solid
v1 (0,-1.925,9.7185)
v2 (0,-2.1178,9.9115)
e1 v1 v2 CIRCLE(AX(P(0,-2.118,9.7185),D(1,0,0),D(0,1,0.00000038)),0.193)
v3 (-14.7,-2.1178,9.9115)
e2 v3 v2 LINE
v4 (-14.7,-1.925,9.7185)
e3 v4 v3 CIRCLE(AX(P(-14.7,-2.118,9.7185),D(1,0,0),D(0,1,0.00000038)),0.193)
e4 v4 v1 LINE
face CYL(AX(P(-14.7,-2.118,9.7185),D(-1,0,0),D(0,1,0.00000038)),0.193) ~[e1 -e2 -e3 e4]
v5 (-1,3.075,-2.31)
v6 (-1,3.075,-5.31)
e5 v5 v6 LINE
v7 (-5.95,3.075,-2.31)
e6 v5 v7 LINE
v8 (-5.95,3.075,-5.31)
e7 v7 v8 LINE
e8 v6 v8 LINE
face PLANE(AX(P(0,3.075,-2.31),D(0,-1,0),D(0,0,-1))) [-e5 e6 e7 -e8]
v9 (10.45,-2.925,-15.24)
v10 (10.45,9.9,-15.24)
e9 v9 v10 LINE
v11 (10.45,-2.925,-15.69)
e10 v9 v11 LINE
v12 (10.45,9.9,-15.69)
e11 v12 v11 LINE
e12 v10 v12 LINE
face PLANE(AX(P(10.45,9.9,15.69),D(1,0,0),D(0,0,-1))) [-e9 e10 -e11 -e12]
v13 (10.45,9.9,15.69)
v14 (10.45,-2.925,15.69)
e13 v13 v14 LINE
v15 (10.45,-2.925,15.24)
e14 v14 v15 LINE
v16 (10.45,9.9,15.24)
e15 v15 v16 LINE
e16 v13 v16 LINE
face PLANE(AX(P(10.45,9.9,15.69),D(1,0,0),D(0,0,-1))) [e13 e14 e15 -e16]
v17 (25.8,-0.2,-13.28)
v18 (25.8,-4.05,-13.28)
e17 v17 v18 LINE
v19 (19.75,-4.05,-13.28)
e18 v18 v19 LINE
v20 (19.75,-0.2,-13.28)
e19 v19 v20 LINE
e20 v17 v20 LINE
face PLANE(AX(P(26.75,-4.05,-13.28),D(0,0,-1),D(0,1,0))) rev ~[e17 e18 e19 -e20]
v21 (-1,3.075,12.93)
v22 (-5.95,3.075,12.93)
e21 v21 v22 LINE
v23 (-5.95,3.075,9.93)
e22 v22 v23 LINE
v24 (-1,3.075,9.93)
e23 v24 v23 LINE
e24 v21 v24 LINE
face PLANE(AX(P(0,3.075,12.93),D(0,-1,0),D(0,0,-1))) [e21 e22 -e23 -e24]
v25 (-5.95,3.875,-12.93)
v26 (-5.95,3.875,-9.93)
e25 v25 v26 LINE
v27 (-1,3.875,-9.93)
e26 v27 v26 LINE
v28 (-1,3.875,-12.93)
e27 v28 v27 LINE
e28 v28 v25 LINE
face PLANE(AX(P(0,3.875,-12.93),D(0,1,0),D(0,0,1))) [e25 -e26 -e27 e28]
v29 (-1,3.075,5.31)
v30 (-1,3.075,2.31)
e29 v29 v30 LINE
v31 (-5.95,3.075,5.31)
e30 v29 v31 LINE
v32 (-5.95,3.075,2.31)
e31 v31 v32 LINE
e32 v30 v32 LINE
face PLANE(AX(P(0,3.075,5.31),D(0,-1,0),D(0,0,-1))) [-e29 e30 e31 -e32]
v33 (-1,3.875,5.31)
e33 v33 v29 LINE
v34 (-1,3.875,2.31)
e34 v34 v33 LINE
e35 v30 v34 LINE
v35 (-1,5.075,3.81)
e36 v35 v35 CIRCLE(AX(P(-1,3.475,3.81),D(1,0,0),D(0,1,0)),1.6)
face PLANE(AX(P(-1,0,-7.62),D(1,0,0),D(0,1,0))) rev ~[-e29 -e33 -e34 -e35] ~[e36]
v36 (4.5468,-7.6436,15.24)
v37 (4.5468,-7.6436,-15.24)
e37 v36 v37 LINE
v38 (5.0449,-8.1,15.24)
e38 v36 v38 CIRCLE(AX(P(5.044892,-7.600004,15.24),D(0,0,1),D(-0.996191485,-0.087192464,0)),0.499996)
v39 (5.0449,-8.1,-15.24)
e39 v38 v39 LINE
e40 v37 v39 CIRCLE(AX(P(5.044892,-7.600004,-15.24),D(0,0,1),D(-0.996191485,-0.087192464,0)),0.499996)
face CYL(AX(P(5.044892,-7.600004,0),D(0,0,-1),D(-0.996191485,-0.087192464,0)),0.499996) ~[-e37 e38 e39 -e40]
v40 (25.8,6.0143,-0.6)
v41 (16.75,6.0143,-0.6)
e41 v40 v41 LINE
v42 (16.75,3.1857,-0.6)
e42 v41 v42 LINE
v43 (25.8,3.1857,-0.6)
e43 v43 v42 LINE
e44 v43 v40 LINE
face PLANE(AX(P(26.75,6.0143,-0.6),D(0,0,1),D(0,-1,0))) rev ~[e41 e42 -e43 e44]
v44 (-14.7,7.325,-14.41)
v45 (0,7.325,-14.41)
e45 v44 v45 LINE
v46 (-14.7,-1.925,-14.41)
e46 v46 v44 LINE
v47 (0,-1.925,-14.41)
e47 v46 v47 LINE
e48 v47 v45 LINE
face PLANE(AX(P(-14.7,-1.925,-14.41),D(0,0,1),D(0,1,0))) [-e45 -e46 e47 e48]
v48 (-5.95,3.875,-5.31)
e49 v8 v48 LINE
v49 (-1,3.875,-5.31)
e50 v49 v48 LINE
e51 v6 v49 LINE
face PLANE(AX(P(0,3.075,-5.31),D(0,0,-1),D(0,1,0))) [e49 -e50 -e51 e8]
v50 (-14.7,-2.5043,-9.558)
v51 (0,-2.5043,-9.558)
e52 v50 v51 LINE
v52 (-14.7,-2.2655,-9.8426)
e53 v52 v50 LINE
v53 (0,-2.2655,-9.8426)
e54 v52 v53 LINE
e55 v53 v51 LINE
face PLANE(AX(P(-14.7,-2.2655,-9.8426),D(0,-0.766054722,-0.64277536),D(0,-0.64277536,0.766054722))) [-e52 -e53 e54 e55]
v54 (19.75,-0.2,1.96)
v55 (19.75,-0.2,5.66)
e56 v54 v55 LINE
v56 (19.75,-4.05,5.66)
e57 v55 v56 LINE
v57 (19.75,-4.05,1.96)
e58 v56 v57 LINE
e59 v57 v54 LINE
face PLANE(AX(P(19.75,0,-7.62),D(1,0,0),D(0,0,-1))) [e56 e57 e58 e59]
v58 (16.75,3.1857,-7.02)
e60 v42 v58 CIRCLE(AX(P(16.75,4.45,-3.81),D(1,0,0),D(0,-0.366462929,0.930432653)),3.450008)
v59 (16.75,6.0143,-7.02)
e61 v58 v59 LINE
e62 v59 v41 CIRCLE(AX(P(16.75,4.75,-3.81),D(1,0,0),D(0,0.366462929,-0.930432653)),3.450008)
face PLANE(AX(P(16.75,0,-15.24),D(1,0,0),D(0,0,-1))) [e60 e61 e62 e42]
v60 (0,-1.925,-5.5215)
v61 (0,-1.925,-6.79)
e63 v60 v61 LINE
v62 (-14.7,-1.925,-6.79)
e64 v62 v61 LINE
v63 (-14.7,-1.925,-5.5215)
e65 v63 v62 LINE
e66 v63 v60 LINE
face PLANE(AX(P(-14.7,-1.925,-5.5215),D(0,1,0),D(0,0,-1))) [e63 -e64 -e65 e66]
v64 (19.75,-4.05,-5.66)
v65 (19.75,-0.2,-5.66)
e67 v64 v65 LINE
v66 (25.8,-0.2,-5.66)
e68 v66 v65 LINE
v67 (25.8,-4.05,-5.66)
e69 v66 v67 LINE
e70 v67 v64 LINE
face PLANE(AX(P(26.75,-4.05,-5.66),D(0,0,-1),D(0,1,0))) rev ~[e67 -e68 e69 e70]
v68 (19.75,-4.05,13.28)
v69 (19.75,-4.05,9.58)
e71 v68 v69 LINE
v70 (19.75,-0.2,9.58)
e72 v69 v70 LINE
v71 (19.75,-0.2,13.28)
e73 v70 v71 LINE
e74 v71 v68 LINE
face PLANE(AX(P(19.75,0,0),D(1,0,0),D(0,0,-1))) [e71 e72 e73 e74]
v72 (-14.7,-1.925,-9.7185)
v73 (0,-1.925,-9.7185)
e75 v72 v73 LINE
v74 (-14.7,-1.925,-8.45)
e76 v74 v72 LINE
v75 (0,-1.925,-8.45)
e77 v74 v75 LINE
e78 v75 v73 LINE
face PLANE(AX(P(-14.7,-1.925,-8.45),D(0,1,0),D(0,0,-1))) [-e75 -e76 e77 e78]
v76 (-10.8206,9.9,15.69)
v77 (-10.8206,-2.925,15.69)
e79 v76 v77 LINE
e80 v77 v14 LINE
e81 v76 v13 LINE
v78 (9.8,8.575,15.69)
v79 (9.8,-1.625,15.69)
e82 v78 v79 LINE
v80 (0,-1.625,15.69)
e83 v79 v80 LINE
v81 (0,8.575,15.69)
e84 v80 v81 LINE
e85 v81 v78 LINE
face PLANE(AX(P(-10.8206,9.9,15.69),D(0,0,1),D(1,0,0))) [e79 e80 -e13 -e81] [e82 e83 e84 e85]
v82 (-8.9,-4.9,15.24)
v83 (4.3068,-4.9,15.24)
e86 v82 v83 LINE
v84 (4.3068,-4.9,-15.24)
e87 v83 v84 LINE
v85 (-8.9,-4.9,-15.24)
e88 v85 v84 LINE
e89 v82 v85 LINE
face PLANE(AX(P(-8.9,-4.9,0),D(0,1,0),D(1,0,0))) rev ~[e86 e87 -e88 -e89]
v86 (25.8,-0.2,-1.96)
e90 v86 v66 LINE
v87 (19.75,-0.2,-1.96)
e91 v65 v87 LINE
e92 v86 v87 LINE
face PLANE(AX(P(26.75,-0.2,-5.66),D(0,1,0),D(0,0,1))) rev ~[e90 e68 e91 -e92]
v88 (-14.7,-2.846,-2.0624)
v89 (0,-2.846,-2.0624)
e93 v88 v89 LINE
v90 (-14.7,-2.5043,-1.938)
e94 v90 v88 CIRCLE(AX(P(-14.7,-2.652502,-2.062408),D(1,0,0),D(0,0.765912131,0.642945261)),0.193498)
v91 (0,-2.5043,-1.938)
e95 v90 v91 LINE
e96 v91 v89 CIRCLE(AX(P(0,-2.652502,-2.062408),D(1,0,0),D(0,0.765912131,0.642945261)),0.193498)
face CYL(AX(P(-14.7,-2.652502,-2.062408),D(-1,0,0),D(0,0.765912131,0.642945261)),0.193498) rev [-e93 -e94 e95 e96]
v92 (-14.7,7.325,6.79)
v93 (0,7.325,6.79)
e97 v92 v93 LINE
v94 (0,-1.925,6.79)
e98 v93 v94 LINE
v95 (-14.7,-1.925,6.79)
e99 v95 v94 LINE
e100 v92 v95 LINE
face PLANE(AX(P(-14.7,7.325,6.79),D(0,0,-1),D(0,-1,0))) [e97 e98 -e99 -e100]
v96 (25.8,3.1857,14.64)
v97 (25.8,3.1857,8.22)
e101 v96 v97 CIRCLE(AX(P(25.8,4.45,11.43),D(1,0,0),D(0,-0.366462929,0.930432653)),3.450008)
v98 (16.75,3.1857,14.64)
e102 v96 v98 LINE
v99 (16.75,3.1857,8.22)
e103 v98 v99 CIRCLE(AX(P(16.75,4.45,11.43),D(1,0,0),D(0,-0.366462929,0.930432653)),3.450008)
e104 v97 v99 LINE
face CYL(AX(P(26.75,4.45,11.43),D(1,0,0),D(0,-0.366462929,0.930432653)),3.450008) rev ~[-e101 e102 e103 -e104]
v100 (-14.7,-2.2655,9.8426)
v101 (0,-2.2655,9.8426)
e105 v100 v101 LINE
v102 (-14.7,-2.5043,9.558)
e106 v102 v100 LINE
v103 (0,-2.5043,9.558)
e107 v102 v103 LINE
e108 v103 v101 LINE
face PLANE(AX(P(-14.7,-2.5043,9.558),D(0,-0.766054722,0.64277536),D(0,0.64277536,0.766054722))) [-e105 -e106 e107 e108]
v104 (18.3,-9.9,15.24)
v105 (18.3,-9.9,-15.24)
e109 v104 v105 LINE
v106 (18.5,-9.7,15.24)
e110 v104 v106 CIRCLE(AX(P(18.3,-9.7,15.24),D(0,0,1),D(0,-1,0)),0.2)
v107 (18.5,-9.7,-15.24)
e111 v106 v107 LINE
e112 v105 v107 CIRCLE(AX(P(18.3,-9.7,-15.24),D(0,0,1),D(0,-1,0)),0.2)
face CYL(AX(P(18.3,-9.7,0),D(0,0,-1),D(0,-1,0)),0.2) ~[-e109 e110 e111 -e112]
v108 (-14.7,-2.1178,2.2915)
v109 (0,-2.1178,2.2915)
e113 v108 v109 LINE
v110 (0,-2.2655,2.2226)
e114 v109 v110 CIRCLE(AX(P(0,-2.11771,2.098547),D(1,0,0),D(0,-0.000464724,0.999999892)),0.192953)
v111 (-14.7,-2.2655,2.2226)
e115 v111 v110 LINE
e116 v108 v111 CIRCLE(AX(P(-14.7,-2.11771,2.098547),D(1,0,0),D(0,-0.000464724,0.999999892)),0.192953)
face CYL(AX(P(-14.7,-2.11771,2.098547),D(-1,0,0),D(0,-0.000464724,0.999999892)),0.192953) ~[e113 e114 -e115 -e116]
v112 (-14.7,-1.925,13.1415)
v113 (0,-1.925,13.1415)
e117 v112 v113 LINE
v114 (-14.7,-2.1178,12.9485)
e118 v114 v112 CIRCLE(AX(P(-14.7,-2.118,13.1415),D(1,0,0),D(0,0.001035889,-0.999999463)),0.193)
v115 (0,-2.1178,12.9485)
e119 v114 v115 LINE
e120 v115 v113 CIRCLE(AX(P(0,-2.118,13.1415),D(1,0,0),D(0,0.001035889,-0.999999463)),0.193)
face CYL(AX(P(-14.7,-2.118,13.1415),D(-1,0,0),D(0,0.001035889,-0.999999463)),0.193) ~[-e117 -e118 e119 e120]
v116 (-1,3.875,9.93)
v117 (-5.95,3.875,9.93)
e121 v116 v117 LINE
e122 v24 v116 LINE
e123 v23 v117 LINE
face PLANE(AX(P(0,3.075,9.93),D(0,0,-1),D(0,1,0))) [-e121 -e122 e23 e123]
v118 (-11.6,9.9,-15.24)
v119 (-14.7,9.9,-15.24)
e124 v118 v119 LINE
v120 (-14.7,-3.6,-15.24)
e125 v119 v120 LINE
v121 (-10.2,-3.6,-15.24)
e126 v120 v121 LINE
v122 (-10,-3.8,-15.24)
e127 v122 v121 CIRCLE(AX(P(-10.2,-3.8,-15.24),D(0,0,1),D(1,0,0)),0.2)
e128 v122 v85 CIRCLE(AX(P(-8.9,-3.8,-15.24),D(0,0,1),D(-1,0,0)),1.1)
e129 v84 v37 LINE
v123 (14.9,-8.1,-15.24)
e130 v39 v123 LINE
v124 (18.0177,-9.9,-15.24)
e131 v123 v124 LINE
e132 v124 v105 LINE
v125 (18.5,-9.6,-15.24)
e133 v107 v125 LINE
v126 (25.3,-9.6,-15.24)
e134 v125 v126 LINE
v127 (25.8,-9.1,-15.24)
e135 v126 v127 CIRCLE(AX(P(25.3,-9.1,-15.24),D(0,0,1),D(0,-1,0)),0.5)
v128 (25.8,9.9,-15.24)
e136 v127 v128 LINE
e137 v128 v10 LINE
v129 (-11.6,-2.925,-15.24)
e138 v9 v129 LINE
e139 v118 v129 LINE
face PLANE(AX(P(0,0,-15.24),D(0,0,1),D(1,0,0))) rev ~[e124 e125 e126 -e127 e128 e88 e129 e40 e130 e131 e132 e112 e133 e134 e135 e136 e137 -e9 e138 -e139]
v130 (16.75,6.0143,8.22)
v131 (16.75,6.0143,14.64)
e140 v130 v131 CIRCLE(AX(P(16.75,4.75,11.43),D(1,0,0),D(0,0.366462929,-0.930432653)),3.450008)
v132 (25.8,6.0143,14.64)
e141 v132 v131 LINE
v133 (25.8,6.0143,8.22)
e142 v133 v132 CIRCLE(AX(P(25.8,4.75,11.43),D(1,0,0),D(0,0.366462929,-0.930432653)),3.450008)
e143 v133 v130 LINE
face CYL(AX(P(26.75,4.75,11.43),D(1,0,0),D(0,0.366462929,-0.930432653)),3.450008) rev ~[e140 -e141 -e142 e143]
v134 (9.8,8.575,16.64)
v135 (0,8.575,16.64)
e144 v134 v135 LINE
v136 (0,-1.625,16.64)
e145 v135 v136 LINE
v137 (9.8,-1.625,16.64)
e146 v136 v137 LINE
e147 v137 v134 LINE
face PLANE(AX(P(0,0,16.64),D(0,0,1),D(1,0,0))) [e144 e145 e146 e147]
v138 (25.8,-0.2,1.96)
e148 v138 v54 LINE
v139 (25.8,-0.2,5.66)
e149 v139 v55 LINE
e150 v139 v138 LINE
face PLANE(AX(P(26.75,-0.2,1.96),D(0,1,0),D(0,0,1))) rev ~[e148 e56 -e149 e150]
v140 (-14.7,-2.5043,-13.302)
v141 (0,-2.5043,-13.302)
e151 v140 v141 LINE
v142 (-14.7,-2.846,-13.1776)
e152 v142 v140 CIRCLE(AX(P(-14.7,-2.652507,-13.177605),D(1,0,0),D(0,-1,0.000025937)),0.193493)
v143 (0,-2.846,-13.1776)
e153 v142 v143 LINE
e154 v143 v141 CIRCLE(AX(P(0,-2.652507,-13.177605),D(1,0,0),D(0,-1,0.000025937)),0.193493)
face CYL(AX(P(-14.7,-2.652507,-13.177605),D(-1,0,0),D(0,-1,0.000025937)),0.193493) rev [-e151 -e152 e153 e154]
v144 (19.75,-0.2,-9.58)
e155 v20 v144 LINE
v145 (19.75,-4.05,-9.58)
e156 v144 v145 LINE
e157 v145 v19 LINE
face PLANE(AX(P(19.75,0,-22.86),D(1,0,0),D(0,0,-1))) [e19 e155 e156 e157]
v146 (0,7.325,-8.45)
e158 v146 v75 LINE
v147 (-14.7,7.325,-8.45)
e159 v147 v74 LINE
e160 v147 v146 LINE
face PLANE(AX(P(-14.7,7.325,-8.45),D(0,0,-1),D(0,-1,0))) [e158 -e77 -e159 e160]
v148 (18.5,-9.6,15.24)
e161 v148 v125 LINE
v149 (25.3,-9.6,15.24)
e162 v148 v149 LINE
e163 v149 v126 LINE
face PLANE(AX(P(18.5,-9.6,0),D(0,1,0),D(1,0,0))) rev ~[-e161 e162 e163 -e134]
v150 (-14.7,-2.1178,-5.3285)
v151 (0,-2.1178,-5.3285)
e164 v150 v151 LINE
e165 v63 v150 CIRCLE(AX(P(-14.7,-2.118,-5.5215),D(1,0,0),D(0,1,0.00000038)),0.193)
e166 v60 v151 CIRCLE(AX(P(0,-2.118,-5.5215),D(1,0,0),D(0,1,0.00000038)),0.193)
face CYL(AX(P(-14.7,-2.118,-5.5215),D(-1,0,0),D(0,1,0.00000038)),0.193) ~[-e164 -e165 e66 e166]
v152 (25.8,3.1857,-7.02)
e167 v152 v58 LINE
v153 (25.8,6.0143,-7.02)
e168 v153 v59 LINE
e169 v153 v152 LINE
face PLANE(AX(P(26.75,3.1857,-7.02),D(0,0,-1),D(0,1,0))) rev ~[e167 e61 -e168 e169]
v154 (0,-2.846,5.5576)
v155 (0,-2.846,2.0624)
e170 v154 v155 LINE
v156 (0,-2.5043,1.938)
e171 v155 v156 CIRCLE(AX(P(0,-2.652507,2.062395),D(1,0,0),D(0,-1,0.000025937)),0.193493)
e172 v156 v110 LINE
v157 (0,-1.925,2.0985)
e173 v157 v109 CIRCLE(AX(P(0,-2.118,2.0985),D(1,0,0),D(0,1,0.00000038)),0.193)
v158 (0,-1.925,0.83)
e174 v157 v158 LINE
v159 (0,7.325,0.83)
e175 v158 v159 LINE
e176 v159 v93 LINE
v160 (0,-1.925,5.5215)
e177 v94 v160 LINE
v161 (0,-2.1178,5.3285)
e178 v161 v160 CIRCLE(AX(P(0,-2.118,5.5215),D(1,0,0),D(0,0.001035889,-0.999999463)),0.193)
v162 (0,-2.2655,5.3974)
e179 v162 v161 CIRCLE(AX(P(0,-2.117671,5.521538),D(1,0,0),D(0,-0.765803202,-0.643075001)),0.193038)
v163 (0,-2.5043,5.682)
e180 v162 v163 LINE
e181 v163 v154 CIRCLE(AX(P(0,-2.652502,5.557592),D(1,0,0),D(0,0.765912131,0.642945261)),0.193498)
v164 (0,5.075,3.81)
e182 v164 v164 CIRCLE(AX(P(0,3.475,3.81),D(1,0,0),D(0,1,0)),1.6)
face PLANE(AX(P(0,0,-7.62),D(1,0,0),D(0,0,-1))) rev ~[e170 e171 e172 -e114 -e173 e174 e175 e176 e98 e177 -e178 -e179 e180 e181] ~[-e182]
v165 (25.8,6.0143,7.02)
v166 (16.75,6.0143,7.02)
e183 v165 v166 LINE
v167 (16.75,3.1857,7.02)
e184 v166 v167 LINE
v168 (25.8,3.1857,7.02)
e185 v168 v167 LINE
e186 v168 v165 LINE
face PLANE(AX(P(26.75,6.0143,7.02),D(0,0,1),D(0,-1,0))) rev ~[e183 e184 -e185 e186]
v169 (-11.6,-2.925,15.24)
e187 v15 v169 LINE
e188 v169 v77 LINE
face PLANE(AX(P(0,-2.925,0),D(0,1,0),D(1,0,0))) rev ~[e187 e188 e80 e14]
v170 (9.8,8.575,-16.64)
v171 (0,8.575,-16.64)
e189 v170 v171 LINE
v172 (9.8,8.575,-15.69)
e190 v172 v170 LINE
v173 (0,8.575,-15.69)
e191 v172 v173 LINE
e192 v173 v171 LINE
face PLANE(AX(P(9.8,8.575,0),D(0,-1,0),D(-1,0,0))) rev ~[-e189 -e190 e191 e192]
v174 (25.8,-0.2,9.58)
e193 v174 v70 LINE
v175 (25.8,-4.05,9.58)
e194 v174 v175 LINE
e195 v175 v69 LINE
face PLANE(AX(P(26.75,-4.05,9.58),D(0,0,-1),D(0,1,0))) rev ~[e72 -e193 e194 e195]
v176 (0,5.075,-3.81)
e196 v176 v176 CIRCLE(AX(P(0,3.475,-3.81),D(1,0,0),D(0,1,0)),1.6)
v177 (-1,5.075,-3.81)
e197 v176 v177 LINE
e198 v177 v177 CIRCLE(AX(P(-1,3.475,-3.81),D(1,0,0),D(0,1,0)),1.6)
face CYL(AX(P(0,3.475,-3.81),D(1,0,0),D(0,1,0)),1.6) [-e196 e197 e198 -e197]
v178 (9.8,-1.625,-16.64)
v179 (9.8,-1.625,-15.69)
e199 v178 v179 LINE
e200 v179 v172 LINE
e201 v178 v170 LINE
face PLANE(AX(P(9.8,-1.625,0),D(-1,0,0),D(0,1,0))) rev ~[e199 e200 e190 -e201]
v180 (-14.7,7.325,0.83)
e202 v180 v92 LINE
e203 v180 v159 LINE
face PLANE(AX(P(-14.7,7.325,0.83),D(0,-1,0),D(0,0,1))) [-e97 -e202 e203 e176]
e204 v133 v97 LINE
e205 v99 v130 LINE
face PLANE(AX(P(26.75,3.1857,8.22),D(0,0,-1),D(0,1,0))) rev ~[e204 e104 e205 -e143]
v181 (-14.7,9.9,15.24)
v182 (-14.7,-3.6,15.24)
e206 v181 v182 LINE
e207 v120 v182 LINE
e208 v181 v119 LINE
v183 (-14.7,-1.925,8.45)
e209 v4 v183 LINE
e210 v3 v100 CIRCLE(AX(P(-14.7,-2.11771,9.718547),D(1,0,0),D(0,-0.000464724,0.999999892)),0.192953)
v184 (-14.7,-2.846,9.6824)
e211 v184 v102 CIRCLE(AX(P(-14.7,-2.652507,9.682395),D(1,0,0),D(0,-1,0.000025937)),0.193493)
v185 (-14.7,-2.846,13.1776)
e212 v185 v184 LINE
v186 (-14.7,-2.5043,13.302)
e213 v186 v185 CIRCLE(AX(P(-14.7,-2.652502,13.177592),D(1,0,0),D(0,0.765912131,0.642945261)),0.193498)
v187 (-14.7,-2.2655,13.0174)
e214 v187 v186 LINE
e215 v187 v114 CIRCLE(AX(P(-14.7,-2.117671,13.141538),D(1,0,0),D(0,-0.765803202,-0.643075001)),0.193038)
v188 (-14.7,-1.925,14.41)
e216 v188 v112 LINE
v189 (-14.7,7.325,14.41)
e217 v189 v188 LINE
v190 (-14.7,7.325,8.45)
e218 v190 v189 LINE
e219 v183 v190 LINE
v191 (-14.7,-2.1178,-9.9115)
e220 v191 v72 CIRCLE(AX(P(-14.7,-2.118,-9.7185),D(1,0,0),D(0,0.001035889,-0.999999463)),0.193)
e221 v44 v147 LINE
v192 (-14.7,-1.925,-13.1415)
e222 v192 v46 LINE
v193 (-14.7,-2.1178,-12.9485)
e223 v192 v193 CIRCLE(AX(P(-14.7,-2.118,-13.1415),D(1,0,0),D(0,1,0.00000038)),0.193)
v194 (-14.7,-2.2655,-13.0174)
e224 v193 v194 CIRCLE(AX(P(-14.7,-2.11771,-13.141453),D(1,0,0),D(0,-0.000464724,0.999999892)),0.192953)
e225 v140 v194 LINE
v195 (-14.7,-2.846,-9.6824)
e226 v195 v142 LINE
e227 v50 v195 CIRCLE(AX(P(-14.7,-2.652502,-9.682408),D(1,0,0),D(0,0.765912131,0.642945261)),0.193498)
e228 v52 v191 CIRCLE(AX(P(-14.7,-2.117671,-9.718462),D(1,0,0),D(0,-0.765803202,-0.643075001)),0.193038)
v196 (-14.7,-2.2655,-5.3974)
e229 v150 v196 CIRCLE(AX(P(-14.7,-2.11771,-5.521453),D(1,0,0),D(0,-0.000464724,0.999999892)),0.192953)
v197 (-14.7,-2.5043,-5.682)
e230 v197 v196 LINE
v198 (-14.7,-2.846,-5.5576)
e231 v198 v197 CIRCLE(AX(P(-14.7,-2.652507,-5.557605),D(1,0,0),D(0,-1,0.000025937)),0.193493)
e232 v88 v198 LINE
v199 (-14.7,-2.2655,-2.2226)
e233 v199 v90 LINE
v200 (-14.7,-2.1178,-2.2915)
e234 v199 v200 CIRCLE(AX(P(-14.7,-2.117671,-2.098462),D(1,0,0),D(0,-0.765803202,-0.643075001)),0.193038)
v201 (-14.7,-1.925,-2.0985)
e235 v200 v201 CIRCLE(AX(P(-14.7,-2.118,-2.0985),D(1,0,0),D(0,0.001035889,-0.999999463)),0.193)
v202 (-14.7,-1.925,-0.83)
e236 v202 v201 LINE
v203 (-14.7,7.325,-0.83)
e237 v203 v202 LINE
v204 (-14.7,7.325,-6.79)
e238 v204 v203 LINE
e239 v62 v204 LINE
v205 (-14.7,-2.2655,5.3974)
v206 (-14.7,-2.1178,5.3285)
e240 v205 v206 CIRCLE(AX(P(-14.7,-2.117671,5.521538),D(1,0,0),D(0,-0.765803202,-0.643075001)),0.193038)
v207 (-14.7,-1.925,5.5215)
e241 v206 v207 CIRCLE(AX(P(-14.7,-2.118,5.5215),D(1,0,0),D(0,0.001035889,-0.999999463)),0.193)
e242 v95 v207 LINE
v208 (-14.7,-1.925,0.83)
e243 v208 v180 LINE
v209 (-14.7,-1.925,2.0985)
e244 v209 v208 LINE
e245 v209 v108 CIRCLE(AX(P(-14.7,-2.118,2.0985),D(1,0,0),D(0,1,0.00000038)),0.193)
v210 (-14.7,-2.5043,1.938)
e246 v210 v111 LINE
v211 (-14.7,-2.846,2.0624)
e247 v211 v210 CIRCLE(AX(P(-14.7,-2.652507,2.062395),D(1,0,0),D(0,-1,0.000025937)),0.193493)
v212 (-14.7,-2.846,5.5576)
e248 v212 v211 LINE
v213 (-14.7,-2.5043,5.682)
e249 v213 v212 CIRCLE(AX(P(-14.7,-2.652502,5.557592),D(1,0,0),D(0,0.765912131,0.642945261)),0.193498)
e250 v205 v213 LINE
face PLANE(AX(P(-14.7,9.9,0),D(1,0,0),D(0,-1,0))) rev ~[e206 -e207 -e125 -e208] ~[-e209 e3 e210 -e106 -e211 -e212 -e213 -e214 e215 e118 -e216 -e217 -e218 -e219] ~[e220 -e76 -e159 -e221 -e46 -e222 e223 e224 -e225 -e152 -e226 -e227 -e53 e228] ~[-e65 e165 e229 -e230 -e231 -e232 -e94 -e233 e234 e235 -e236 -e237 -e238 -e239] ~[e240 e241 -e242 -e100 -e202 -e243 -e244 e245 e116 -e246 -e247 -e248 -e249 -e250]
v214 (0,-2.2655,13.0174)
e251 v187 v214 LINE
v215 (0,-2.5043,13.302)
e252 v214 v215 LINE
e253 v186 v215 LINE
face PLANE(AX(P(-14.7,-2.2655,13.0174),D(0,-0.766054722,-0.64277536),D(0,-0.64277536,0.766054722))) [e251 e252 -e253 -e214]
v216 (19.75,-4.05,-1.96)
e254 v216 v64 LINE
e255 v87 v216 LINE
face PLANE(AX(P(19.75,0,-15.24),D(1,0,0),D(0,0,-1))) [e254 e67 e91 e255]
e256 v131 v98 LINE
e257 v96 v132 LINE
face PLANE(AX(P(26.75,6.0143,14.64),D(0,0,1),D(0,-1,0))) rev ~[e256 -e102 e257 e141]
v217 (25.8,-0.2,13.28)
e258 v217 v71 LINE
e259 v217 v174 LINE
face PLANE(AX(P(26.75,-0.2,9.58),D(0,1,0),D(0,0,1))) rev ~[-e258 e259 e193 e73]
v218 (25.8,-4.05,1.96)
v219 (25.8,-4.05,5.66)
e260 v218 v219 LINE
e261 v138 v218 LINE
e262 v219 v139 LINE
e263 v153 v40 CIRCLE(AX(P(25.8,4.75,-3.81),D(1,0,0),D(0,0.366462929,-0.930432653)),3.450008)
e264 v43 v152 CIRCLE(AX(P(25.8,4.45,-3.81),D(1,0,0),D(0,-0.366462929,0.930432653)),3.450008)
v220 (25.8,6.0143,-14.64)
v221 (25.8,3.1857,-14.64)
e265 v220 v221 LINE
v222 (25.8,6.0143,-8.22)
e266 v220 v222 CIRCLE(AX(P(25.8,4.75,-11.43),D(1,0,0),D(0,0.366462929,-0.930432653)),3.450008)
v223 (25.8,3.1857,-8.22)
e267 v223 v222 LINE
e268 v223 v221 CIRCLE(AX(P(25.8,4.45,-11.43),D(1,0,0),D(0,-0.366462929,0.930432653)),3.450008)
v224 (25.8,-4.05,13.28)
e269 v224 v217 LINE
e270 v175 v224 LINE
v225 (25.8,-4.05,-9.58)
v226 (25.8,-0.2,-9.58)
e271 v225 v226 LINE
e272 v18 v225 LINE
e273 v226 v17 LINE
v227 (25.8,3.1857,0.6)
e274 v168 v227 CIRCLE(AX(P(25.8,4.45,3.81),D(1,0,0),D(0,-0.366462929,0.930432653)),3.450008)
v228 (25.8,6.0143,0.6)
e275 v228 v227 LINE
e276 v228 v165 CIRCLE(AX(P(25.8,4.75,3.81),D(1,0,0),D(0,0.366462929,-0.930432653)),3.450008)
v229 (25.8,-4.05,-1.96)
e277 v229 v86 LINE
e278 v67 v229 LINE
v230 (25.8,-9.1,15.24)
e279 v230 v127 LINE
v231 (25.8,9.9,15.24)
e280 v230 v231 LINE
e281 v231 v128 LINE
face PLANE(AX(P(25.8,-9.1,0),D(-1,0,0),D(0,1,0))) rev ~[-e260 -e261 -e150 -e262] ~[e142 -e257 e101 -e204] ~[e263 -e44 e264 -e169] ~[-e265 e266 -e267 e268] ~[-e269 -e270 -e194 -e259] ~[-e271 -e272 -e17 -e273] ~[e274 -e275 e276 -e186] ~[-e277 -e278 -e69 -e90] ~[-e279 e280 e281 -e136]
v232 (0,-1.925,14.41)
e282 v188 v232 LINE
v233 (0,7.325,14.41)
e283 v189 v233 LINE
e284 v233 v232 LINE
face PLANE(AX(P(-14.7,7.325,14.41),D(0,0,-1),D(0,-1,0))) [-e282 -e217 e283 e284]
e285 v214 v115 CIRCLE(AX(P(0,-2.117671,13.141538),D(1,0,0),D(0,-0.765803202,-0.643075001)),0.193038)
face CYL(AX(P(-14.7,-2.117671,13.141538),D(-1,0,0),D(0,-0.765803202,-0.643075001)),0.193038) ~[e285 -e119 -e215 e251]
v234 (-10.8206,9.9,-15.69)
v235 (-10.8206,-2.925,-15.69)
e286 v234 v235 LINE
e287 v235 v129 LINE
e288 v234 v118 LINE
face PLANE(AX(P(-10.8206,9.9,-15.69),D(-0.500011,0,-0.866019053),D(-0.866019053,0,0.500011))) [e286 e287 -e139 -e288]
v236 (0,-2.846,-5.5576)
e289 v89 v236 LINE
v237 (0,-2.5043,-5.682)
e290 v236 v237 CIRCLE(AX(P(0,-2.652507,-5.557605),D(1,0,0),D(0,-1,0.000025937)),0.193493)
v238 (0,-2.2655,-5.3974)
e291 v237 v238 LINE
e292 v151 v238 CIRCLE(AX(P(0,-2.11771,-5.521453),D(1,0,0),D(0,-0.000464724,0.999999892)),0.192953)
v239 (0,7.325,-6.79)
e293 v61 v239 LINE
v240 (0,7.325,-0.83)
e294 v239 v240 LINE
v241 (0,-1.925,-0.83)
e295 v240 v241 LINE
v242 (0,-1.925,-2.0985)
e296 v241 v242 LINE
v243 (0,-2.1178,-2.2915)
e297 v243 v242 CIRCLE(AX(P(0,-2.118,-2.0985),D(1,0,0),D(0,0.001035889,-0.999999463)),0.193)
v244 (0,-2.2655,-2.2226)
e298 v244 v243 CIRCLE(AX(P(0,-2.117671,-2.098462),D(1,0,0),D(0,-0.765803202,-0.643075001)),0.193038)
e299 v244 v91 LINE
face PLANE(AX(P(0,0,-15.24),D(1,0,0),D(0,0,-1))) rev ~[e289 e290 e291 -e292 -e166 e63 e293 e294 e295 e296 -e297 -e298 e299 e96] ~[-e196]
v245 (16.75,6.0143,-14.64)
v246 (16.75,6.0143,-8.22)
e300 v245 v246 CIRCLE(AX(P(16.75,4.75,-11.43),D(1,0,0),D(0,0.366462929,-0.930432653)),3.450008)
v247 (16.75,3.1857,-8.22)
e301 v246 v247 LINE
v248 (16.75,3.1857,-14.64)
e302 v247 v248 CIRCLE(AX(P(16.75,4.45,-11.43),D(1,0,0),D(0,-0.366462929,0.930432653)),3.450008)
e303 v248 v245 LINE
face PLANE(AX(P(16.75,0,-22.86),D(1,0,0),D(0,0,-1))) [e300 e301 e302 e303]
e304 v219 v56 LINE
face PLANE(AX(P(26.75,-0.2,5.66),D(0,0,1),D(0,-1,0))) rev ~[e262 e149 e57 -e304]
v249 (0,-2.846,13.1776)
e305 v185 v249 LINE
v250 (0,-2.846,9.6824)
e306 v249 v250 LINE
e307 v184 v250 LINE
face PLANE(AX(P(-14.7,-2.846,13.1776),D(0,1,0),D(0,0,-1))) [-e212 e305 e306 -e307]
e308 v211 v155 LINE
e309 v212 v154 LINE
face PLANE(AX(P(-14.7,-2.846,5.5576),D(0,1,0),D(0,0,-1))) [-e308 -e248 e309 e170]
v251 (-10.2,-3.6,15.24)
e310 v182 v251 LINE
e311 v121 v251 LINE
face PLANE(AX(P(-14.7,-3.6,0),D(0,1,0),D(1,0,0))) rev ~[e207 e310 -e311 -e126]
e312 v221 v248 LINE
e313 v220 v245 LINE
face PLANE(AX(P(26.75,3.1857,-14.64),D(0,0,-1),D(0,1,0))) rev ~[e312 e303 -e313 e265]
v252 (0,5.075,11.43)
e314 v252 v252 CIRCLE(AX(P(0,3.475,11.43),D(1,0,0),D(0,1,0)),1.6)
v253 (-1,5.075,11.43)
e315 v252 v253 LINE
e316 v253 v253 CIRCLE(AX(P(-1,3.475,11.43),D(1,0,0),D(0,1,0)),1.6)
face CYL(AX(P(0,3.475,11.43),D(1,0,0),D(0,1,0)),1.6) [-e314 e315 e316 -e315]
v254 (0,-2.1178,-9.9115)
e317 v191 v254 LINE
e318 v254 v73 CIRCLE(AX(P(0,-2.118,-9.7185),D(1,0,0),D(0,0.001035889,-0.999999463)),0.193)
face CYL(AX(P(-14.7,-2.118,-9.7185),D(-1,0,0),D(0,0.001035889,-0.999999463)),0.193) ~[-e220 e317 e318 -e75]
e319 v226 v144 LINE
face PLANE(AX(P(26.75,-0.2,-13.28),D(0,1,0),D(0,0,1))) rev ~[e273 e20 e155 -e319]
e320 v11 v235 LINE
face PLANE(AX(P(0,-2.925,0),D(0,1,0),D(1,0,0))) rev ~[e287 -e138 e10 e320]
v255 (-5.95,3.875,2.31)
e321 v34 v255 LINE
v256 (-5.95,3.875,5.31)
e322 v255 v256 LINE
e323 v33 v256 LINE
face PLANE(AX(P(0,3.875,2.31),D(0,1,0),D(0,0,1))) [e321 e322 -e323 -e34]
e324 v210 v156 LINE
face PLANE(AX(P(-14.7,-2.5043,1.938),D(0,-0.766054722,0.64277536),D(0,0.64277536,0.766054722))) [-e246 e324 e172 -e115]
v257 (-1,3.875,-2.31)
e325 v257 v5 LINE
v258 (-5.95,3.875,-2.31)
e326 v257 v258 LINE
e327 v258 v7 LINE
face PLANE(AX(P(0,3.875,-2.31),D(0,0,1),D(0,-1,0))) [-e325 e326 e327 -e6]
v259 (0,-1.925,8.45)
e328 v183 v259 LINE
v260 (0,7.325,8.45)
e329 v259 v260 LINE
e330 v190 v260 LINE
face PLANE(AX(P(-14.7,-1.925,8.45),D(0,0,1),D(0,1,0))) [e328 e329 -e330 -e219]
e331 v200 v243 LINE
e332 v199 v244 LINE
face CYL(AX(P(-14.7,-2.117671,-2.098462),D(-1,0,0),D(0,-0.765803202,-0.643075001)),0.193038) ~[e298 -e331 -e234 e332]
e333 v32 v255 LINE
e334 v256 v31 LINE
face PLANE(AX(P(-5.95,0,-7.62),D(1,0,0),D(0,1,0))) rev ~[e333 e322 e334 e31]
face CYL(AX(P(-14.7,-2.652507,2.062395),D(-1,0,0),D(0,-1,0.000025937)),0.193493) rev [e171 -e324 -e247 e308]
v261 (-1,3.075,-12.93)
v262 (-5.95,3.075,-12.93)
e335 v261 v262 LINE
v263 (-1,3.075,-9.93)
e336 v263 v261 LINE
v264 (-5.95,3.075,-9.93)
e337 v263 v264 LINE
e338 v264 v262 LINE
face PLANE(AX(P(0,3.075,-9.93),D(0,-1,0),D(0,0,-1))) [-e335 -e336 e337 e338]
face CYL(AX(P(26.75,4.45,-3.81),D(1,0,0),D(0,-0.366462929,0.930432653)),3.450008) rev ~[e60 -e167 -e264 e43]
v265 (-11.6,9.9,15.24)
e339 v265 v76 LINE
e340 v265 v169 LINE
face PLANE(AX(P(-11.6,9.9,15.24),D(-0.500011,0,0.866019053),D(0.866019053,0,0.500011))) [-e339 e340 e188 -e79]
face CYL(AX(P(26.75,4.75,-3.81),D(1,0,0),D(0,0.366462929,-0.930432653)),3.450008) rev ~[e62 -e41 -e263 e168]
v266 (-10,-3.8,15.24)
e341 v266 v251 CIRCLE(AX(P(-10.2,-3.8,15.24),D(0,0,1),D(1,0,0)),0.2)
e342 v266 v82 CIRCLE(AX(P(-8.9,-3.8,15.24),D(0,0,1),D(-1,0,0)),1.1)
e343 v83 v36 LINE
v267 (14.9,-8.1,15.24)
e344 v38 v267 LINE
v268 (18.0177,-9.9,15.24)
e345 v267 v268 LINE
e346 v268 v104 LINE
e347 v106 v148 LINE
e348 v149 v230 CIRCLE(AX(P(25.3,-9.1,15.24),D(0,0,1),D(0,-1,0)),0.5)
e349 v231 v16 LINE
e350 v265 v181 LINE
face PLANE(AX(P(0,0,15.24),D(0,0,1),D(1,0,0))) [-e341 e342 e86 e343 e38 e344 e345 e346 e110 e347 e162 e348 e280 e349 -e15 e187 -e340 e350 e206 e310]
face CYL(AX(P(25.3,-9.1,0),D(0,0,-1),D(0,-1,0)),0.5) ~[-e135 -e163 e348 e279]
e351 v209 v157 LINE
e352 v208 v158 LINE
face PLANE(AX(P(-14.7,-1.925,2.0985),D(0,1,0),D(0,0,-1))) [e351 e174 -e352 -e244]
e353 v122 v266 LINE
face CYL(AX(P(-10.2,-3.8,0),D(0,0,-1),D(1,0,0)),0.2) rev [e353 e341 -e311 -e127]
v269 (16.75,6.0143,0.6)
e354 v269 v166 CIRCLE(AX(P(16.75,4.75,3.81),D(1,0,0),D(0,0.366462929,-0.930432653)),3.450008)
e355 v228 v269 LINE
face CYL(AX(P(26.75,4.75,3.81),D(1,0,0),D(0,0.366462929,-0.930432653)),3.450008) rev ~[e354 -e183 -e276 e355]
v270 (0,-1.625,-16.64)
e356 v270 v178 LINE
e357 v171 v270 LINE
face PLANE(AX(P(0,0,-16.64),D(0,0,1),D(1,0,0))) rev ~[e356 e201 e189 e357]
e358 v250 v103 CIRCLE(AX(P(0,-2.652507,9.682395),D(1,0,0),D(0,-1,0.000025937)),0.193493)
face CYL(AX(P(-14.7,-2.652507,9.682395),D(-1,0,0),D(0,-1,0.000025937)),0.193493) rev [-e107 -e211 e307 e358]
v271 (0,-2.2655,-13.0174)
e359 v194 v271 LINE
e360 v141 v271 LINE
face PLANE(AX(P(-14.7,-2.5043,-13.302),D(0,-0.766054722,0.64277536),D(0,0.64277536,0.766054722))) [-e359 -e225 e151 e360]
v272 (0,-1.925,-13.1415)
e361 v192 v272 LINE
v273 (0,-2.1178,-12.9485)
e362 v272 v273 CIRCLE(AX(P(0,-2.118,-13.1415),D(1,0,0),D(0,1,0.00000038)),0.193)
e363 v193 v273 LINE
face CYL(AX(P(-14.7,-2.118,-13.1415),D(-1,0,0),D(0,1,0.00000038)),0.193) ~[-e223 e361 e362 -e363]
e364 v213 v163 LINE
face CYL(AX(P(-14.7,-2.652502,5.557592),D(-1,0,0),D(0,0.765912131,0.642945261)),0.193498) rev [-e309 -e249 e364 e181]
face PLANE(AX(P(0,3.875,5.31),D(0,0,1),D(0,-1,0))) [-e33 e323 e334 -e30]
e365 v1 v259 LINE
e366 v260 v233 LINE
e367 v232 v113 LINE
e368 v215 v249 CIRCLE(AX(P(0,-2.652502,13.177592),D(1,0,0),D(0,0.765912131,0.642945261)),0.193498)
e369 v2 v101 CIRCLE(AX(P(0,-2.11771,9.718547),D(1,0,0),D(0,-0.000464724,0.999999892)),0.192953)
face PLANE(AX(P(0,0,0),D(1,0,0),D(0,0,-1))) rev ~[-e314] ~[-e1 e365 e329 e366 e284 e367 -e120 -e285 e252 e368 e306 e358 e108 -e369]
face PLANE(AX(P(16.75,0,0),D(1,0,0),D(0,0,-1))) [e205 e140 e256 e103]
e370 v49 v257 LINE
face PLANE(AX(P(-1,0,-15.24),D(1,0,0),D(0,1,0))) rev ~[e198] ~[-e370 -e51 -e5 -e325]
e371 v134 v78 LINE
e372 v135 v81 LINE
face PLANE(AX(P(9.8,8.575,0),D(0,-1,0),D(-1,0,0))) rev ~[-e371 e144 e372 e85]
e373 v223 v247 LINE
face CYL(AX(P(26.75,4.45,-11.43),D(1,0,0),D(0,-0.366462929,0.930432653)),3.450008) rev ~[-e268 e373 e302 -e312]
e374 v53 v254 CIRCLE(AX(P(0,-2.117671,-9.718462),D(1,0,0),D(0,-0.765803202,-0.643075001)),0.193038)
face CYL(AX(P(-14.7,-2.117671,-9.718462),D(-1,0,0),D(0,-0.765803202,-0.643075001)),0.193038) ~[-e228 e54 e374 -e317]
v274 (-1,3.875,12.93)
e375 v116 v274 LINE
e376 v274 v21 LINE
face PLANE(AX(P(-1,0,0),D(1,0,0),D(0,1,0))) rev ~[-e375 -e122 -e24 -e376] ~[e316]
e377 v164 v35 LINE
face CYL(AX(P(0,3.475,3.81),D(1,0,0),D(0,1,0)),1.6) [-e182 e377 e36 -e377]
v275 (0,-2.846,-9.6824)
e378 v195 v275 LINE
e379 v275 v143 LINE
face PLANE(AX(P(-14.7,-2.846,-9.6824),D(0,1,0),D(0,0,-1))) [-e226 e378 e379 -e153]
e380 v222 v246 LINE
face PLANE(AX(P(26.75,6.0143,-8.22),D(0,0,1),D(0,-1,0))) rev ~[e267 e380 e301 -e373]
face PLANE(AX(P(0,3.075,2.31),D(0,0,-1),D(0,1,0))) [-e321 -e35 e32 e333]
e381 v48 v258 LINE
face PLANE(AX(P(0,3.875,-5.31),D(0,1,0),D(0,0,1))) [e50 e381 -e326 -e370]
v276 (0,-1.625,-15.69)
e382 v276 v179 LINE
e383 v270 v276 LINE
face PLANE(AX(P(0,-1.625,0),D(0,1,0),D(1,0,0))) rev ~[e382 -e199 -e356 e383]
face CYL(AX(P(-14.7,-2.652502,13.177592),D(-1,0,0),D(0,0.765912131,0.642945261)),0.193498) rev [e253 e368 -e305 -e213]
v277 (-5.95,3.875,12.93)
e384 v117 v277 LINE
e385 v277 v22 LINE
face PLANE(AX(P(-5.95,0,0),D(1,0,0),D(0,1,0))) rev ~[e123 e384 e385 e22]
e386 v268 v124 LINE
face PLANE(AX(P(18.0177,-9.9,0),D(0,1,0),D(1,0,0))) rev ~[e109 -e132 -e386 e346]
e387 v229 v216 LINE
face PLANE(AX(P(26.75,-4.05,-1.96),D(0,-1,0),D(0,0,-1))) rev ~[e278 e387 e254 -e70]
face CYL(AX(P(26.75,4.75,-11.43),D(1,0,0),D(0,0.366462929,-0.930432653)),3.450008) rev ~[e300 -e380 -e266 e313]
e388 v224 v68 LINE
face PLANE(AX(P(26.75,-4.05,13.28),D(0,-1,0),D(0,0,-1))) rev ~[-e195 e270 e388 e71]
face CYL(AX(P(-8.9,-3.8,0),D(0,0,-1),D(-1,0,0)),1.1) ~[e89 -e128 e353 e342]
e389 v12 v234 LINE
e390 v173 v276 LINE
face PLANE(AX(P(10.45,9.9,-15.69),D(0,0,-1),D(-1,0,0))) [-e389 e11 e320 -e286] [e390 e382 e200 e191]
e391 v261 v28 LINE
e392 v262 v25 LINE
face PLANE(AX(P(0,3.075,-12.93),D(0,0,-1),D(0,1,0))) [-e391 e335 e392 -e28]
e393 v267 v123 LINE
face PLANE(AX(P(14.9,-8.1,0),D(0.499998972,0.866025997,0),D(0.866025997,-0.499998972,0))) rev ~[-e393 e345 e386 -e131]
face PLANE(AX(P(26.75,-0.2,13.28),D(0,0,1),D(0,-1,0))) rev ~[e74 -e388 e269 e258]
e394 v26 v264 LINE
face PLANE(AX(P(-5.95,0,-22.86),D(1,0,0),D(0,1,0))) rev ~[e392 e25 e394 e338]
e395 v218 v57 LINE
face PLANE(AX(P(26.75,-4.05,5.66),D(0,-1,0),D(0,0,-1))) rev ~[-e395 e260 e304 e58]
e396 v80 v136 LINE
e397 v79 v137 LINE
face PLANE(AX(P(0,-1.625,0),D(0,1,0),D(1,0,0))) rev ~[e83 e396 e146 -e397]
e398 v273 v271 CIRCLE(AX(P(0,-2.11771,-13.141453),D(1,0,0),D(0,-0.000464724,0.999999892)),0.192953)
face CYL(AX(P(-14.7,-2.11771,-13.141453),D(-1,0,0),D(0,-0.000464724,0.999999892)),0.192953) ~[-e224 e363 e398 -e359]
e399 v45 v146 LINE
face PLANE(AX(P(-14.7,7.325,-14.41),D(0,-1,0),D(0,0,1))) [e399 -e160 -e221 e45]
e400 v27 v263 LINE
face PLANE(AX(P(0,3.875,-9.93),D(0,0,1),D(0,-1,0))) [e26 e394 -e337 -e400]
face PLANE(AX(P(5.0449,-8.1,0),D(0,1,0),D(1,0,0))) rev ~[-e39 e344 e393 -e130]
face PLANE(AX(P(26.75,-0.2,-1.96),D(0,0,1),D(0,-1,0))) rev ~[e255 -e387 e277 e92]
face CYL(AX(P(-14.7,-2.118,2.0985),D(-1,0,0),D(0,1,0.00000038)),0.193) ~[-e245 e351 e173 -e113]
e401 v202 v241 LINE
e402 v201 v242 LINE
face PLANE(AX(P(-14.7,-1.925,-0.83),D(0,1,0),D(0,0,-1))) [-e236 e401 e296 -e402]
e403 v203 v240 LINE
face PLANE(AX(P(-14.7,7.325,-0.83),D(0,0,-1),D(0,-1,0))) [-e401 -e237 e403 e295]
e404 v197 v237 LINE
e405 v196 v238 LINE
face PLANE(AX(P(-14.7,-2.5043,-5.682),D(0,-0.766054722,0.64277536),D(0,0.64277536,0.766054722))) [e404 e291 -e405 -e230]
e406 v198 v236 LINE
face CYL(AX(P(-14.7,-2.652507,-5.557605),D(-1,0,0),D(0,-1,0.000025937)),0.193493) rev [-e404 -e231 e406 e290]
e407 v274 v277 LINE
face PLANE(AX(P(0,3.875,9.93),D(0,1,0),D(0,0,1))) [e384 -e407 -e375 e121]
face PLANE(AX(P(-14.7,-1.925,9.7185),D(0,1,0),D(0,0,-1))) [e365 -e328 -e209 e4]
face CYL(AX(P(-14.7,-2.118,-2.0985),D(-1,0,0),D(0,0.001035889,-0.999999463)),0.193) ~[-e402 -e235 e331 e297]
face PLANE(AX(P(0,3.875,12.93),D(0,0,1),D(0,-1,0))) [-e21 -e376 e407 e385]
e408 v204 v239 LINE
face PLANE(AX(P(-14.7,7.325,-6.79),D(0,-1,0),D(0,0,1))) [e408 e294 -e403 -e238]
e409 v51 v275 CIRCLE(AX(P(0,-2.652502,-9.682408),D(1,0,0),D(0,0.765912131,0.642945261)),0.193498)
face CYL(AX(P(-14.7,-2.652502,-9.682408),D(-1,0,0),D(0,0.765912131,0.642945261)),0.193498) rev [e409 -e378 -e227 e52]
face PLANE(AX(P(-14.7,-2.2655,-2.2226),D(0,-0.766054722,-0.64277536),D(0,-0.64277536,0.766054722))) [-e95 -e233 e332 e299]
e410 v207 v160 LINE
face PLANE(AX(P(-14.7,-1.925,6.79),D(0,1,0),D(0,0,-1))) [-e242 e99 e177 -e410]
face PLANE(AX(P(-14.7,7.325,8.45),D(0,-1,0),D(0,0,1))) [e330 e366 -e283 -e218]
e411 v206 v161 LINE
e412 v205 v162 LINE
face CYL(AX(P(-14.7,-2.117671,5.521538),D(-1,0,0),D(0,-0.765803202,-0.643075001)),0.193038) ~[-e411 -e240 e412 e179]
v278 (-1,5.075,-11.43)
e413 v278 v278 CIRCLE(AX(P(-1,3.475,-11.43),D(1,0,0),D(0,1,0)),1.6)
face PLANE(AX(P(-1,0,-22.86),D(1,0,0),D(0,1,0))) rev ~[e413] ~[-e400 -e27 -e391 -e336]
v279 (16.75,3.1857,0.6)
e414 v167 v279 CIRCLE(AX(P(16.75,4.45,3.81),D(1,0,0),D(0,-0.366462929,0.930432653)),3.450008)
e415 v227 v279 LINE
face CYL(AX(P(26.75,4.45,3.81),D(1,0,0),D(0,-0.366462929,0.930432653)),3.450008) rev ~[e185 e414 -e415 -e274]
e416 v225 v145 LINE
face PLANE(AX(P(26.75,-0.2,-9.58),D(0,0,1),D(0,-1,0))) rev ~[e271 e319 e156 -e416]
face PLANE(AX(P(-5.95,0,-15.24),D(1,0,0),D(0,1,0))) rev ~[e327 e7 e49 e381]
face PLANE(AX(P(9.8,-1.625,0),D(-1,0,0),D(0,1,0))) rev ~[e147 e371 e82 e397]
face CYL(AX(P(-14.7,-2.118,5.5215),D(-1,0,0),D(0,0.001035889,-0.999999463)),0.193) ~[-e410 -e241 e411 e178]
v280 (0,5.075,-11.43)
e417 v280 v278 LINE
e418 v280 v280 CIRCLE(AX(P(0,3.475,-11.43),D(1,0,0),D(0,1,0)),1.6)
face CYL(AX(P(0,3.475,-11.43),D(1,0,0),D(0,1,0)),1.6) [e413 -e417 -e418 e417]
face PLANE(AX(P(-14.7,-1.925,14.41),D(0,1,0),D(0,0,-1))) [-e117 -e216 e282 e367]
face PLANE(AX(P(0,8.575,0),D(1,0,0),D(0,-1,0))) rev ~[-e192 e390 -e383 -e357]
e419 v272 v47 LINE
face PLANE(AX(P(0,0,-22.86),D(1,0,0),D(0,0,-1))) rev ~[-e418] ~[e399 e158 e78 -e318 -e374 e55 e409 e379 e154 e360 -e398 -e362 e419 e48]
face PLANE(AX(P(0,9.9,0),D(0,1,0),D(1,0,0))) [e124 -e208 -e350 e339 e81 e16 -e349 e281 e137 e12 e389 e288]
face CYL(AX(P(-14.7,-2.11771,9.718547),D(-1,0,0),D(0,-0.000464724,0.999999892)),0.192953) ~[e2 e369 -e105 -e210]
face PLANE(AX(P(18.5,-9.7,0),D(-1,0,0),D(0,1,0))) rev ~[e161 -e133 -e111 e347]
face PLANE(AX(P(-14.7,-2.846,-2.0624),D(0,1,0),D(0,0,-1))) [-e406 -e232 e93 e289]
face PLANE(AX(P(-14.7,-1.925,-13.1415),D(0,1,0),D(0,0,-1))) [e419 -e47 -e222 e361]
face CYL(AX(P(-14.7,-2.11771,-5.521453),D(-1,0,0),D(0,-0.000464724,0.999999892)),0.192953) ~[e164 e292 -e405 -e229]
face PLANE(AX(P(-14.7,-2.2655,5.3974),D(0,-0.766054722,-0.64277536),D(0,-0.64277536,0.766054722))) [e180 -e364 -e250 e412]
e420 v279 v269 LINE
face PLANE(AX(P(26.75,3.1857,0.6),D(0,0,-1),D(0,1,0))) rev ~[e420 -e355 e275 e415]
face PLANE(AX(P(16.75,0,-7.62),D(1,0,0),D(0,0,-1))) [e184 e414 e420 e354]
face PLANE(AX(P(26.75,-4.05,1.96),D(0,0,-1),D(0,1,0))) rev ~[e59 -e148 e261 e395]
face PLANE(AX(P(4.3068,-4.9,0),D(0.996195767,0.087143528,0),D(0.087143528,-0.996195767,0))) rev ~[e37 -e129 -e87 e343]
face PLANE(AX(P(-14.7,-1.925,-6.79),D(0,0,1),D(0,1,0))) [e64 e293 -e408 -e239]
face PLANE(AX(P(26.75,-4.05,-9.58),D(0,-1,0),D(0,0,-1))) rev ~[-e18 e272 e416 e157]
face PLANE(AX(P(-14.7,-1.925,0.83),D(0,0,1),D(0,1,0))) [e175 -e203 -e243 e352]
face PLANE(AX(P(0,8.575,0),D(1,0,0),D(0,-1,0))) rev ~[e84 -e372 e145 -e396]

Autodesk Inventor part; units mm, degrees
sketch "Sketch_1" plane through (0, 0, 0) normal (0, 0, 1) x (1, 0, 0)
  line L0 (-14.7, -3.6) -> (-10.2, -3.6)
  arc A0 (-10, -3.8) -> (-10.2, -3.6) centre (-10.2, -3.8) ccw
  arc A1 (-10, -3.8) -> (-8.9, -4.9) centre (-8.9, -3.8) ccw
  line L1 (-8.9, -4.9) -> (4.3068, -4.9)
  line L2 (4.3068, -4.9) -> (4.5468, -7.6436)
  arc A2 (4.5468, -7.6436) -> (5.0449, -8.1) centre (5.0449, -7.6) ccw
  line L3 (5.0449, -8.1) -> (14.9, -8.1)
  line L4 (14.9, -8.1) -> (18.0177, -9.9)
  line L5 (18.0177, -9.9) -> (18.3, -9.9)
  arc A3 (18.3, -9.9) -> (18.5, -9.7) centre (18.3, -9.7) ccw
  line L6 (18.5, -9.7) -> (18.5, -9.6)
  line L7 (18.5, -9.6) -> (25.3, -9.6)
  arc A4 (25.3, -9.6) -> (25.8, -9.1) centre (25.3, -9.1) ccw
  line L8 (25.8, -9.1) -> (25.8, 9.9)
  line L9 (25.8, 9.9) -> (-14.7, 9.9)
  line L10 (-14.7, 9.9) -> (-14.7, -3.6)
extrude "Extrusion1" add sketch "Sketch_1" along normal mid plane 30.48
sketch "Sketch_2" plane through (0, 9.9, 0) normal (0, 1, 0) x (1, 0, 0)
  line L0 (-11.6, 15.24) -> (-11.6, -15.24)
  line L1 (-11.6, -15.24) -> (-10.8206, -15.69)
  line L2 (-10.8206, -15.69) -> (10.45, -15.69)
  line L3 (10.45, -15.69) -> (10.45, 15.69)
  line L4 (10.45, 15.69) -> (-10.8206, 15.69)
  line L5 (-10.8206, 15.69) -> (-11.6, 15.24)
extrude "Extrusion2" add sketch "Sketch_2" against normal blind 12.825
sketch "Sketch_3" plane through (0, 0, 0) normal (0, 0, 1) x (1, 0, 0)
  line L0 (0, -1.625) -> (9.8, -1.625)
  line L1 (9.8, -1.625) -> (9.8, 8.575)
  line L2 (9.8, 8.575) -> (0, 8.575)
  line L3 (0, 8.575) -> (0, -1.625)
extrude "Extrusion3" add sketch "Sketch_3" along normal mid plane 33.28
sketch "Sketch_4" plane through (26.75, 0, 0) normal (1, 0, 0) x (0, 0, -1)
  line L0 (-14.64, 6.0143) -> (-14.64, 3.1857)
  arc A0 (-14.64, 3.1857) -> (-8.22, 3.1857) centre (-11.43, 4.45) ccw
  line L1 (-8.22, 3.1857) -> (-8.22, 6.0143)
  arc A1 (-8.22, 6.0143) -> (-14.64, 6.0143) centre (-11.43, 4.75) ccw
extrude "Extrusion4" cut sketch "Sketch_4" against normal blind 10
pattern_linear "Rectangular Pattern1" count 4 spacing 7.62 along (0, 0, -1) of "Extrusion4"
sketch "Sketch_6" plane through (26.75, 0, 0) normal (1, 0, 0) x (0, 0, -1)
  line L0 (-13.28, -4.05) -> (-9.58, -4.05)
  line L1 (-9.58, -4.05) -> (-9.58, -0.2)
  line L2 (-9.58, -0.2) -> (-13.28, -0.2)
  line L3 (-13.28, -0.2) -> (-13.28, -4.05)
extrude "Extrusion5" cut sketch "Sketch_6" against normal blind 7
pattern_linear "Rectangular Pattern2" count 4 spacing 7.62 along (0, 0, -1) of "Extrusion5"
sketch "Sketch_8" plane through (-14.7, 0, 0) normal (1, 0, 0) x (0, 0, -1)
  line L0 (-14.41, -1.925) -> (-13.1415, -1.925)
  arc A0 (-12.9485, -2.1178) -> (-13.1415, -1.925) centre (-13.1415, -2.118) ccw
  arc A1 (-13.0174, -2.2655) -> (-12.9485, -2.1178) centre (-13.1415, -2.1177) ccw
  line L1 (-13.0174, -2.2655) -> (-13.302, -2.5043)
  arc A2 (-13.302, -2.5043) -> (-13.1776, -2.846) centre (-13.1776, -2.6525) ccw
  line L2 (-13.1776, -2.846) -> (-9.6824, -2.846)
  arc A3 (-9.6824, -2.846) -> (-9.558, -2.5043) centre (-9.6824, -2.6525) ccw
  line L3 (-9.558, -2.5043) -> (-9.8426, -2.2655)
  arc A4 (-9.9115, -2.1178) -> (-9.8426, -2.2655) centre (-9.7185, -2.1177) ccw
  arc A5 (-9.7185, -1.925) -> (-9.9115, -2.1178) centre (-9.7185, -2.118) ccw
  line L4 (-9.7185, -1.925) -> (-8.45, -1.925)
  line L5 (-8.45, -1.925) -> (-8.45, 7.325)
  line L6 (-8.45, 7.325) -> (-14.41, 7.325)
  line L7 (-14.41, 7.325) -> (-14.41, -1.925)
extrude "Extrusion6" cut sketch "Sketch_8" along normal blind 14.7
pattern_linear "Rectangular Pattern3" count 4 spacing 7.62 along (0, 0, -1) of "Extrusion6"
sketch "Sketch_10" plane through (0, 0, 0) normal (1, 0, 0) x (0, 1, 0)
  circle A0 centre (3.475, 11.43) radius 1.6
extrude "Extrusion7" add sketch "Sketch_10" against normal blind 1
pattern_linear "Rectangular Pattern4" count 4 spacing 7.62 along (0, 0, -1) of "Extrusion7"
sketch "Sketch_12" plane through (0, 0, 0) normal (1, 0, 0) x (0, 1, 0)
  line L0 (3.075, 12.93) -> (3.075, 9.93)
  line L1 (3.075, 9.93) -> (3.875, 9.93)
  line L2 (3.875, 9.93) -> (3.875, 12.93)
  line L3 (3.875, 12.93) -> (3.075, 12.93)
extrude "Extrusion8" add sketch "Sketch_12" against normal blind 5.95
pattern_linear "Rectangular Pattern5" count 4 spacing 7.62 along (0, 0, -1) of "Extrusion8"
ref_plane "ANBAU_XY" through (0, 0, 0) normal (0, 1, 0) x (1, 0, 0)
ref_plane "ANBAU_YZ" through (0, 0, 0) normal (1, 0, 0) x (0, 0, -1)
ref_plane "ANBAU_ZX" through (0, 0, 0) normal (0, 0, -1) x (0, 1, 0)
sketch "Sketch9" plane through (25.8, -9.1, 15.24) normal (1, 0, 0) x (0, 0, -1)
  arc A0 (23.46, 12.2857) -> (29.88, 12.2857) centre (26.67, 13.55) ccw projected
sketch "Sketch10" plane through (25.8, -9.1, 15.24) normal (1, 0, 0) x (0, 0, -1)
  arc A0 (15.84, 12.2857) -> (22.26, 12.2857) centre (19.05, 13.55) ccw projected
sketch "Sketch11" plane through (25.8, -9.1, 15.24) normal (1, 0, 0) x (0, 0, -1)
  arc A0 (8.22, 12.2857) -> (14.64, 12.2857) centre (11.43, 13.55) ccw projected
sketch "Sketch12" plane through (25.8, -9.1, 15.24) normal (1, 0, 0) x (0, 0, -1)
  arc A0 (0.6, 12.2857) -> (7.02, 12.2857) centre (3.81, 13.55) ccw projected
properties part number "5065752 4GD-1RR7.62-CLP-CBL"
